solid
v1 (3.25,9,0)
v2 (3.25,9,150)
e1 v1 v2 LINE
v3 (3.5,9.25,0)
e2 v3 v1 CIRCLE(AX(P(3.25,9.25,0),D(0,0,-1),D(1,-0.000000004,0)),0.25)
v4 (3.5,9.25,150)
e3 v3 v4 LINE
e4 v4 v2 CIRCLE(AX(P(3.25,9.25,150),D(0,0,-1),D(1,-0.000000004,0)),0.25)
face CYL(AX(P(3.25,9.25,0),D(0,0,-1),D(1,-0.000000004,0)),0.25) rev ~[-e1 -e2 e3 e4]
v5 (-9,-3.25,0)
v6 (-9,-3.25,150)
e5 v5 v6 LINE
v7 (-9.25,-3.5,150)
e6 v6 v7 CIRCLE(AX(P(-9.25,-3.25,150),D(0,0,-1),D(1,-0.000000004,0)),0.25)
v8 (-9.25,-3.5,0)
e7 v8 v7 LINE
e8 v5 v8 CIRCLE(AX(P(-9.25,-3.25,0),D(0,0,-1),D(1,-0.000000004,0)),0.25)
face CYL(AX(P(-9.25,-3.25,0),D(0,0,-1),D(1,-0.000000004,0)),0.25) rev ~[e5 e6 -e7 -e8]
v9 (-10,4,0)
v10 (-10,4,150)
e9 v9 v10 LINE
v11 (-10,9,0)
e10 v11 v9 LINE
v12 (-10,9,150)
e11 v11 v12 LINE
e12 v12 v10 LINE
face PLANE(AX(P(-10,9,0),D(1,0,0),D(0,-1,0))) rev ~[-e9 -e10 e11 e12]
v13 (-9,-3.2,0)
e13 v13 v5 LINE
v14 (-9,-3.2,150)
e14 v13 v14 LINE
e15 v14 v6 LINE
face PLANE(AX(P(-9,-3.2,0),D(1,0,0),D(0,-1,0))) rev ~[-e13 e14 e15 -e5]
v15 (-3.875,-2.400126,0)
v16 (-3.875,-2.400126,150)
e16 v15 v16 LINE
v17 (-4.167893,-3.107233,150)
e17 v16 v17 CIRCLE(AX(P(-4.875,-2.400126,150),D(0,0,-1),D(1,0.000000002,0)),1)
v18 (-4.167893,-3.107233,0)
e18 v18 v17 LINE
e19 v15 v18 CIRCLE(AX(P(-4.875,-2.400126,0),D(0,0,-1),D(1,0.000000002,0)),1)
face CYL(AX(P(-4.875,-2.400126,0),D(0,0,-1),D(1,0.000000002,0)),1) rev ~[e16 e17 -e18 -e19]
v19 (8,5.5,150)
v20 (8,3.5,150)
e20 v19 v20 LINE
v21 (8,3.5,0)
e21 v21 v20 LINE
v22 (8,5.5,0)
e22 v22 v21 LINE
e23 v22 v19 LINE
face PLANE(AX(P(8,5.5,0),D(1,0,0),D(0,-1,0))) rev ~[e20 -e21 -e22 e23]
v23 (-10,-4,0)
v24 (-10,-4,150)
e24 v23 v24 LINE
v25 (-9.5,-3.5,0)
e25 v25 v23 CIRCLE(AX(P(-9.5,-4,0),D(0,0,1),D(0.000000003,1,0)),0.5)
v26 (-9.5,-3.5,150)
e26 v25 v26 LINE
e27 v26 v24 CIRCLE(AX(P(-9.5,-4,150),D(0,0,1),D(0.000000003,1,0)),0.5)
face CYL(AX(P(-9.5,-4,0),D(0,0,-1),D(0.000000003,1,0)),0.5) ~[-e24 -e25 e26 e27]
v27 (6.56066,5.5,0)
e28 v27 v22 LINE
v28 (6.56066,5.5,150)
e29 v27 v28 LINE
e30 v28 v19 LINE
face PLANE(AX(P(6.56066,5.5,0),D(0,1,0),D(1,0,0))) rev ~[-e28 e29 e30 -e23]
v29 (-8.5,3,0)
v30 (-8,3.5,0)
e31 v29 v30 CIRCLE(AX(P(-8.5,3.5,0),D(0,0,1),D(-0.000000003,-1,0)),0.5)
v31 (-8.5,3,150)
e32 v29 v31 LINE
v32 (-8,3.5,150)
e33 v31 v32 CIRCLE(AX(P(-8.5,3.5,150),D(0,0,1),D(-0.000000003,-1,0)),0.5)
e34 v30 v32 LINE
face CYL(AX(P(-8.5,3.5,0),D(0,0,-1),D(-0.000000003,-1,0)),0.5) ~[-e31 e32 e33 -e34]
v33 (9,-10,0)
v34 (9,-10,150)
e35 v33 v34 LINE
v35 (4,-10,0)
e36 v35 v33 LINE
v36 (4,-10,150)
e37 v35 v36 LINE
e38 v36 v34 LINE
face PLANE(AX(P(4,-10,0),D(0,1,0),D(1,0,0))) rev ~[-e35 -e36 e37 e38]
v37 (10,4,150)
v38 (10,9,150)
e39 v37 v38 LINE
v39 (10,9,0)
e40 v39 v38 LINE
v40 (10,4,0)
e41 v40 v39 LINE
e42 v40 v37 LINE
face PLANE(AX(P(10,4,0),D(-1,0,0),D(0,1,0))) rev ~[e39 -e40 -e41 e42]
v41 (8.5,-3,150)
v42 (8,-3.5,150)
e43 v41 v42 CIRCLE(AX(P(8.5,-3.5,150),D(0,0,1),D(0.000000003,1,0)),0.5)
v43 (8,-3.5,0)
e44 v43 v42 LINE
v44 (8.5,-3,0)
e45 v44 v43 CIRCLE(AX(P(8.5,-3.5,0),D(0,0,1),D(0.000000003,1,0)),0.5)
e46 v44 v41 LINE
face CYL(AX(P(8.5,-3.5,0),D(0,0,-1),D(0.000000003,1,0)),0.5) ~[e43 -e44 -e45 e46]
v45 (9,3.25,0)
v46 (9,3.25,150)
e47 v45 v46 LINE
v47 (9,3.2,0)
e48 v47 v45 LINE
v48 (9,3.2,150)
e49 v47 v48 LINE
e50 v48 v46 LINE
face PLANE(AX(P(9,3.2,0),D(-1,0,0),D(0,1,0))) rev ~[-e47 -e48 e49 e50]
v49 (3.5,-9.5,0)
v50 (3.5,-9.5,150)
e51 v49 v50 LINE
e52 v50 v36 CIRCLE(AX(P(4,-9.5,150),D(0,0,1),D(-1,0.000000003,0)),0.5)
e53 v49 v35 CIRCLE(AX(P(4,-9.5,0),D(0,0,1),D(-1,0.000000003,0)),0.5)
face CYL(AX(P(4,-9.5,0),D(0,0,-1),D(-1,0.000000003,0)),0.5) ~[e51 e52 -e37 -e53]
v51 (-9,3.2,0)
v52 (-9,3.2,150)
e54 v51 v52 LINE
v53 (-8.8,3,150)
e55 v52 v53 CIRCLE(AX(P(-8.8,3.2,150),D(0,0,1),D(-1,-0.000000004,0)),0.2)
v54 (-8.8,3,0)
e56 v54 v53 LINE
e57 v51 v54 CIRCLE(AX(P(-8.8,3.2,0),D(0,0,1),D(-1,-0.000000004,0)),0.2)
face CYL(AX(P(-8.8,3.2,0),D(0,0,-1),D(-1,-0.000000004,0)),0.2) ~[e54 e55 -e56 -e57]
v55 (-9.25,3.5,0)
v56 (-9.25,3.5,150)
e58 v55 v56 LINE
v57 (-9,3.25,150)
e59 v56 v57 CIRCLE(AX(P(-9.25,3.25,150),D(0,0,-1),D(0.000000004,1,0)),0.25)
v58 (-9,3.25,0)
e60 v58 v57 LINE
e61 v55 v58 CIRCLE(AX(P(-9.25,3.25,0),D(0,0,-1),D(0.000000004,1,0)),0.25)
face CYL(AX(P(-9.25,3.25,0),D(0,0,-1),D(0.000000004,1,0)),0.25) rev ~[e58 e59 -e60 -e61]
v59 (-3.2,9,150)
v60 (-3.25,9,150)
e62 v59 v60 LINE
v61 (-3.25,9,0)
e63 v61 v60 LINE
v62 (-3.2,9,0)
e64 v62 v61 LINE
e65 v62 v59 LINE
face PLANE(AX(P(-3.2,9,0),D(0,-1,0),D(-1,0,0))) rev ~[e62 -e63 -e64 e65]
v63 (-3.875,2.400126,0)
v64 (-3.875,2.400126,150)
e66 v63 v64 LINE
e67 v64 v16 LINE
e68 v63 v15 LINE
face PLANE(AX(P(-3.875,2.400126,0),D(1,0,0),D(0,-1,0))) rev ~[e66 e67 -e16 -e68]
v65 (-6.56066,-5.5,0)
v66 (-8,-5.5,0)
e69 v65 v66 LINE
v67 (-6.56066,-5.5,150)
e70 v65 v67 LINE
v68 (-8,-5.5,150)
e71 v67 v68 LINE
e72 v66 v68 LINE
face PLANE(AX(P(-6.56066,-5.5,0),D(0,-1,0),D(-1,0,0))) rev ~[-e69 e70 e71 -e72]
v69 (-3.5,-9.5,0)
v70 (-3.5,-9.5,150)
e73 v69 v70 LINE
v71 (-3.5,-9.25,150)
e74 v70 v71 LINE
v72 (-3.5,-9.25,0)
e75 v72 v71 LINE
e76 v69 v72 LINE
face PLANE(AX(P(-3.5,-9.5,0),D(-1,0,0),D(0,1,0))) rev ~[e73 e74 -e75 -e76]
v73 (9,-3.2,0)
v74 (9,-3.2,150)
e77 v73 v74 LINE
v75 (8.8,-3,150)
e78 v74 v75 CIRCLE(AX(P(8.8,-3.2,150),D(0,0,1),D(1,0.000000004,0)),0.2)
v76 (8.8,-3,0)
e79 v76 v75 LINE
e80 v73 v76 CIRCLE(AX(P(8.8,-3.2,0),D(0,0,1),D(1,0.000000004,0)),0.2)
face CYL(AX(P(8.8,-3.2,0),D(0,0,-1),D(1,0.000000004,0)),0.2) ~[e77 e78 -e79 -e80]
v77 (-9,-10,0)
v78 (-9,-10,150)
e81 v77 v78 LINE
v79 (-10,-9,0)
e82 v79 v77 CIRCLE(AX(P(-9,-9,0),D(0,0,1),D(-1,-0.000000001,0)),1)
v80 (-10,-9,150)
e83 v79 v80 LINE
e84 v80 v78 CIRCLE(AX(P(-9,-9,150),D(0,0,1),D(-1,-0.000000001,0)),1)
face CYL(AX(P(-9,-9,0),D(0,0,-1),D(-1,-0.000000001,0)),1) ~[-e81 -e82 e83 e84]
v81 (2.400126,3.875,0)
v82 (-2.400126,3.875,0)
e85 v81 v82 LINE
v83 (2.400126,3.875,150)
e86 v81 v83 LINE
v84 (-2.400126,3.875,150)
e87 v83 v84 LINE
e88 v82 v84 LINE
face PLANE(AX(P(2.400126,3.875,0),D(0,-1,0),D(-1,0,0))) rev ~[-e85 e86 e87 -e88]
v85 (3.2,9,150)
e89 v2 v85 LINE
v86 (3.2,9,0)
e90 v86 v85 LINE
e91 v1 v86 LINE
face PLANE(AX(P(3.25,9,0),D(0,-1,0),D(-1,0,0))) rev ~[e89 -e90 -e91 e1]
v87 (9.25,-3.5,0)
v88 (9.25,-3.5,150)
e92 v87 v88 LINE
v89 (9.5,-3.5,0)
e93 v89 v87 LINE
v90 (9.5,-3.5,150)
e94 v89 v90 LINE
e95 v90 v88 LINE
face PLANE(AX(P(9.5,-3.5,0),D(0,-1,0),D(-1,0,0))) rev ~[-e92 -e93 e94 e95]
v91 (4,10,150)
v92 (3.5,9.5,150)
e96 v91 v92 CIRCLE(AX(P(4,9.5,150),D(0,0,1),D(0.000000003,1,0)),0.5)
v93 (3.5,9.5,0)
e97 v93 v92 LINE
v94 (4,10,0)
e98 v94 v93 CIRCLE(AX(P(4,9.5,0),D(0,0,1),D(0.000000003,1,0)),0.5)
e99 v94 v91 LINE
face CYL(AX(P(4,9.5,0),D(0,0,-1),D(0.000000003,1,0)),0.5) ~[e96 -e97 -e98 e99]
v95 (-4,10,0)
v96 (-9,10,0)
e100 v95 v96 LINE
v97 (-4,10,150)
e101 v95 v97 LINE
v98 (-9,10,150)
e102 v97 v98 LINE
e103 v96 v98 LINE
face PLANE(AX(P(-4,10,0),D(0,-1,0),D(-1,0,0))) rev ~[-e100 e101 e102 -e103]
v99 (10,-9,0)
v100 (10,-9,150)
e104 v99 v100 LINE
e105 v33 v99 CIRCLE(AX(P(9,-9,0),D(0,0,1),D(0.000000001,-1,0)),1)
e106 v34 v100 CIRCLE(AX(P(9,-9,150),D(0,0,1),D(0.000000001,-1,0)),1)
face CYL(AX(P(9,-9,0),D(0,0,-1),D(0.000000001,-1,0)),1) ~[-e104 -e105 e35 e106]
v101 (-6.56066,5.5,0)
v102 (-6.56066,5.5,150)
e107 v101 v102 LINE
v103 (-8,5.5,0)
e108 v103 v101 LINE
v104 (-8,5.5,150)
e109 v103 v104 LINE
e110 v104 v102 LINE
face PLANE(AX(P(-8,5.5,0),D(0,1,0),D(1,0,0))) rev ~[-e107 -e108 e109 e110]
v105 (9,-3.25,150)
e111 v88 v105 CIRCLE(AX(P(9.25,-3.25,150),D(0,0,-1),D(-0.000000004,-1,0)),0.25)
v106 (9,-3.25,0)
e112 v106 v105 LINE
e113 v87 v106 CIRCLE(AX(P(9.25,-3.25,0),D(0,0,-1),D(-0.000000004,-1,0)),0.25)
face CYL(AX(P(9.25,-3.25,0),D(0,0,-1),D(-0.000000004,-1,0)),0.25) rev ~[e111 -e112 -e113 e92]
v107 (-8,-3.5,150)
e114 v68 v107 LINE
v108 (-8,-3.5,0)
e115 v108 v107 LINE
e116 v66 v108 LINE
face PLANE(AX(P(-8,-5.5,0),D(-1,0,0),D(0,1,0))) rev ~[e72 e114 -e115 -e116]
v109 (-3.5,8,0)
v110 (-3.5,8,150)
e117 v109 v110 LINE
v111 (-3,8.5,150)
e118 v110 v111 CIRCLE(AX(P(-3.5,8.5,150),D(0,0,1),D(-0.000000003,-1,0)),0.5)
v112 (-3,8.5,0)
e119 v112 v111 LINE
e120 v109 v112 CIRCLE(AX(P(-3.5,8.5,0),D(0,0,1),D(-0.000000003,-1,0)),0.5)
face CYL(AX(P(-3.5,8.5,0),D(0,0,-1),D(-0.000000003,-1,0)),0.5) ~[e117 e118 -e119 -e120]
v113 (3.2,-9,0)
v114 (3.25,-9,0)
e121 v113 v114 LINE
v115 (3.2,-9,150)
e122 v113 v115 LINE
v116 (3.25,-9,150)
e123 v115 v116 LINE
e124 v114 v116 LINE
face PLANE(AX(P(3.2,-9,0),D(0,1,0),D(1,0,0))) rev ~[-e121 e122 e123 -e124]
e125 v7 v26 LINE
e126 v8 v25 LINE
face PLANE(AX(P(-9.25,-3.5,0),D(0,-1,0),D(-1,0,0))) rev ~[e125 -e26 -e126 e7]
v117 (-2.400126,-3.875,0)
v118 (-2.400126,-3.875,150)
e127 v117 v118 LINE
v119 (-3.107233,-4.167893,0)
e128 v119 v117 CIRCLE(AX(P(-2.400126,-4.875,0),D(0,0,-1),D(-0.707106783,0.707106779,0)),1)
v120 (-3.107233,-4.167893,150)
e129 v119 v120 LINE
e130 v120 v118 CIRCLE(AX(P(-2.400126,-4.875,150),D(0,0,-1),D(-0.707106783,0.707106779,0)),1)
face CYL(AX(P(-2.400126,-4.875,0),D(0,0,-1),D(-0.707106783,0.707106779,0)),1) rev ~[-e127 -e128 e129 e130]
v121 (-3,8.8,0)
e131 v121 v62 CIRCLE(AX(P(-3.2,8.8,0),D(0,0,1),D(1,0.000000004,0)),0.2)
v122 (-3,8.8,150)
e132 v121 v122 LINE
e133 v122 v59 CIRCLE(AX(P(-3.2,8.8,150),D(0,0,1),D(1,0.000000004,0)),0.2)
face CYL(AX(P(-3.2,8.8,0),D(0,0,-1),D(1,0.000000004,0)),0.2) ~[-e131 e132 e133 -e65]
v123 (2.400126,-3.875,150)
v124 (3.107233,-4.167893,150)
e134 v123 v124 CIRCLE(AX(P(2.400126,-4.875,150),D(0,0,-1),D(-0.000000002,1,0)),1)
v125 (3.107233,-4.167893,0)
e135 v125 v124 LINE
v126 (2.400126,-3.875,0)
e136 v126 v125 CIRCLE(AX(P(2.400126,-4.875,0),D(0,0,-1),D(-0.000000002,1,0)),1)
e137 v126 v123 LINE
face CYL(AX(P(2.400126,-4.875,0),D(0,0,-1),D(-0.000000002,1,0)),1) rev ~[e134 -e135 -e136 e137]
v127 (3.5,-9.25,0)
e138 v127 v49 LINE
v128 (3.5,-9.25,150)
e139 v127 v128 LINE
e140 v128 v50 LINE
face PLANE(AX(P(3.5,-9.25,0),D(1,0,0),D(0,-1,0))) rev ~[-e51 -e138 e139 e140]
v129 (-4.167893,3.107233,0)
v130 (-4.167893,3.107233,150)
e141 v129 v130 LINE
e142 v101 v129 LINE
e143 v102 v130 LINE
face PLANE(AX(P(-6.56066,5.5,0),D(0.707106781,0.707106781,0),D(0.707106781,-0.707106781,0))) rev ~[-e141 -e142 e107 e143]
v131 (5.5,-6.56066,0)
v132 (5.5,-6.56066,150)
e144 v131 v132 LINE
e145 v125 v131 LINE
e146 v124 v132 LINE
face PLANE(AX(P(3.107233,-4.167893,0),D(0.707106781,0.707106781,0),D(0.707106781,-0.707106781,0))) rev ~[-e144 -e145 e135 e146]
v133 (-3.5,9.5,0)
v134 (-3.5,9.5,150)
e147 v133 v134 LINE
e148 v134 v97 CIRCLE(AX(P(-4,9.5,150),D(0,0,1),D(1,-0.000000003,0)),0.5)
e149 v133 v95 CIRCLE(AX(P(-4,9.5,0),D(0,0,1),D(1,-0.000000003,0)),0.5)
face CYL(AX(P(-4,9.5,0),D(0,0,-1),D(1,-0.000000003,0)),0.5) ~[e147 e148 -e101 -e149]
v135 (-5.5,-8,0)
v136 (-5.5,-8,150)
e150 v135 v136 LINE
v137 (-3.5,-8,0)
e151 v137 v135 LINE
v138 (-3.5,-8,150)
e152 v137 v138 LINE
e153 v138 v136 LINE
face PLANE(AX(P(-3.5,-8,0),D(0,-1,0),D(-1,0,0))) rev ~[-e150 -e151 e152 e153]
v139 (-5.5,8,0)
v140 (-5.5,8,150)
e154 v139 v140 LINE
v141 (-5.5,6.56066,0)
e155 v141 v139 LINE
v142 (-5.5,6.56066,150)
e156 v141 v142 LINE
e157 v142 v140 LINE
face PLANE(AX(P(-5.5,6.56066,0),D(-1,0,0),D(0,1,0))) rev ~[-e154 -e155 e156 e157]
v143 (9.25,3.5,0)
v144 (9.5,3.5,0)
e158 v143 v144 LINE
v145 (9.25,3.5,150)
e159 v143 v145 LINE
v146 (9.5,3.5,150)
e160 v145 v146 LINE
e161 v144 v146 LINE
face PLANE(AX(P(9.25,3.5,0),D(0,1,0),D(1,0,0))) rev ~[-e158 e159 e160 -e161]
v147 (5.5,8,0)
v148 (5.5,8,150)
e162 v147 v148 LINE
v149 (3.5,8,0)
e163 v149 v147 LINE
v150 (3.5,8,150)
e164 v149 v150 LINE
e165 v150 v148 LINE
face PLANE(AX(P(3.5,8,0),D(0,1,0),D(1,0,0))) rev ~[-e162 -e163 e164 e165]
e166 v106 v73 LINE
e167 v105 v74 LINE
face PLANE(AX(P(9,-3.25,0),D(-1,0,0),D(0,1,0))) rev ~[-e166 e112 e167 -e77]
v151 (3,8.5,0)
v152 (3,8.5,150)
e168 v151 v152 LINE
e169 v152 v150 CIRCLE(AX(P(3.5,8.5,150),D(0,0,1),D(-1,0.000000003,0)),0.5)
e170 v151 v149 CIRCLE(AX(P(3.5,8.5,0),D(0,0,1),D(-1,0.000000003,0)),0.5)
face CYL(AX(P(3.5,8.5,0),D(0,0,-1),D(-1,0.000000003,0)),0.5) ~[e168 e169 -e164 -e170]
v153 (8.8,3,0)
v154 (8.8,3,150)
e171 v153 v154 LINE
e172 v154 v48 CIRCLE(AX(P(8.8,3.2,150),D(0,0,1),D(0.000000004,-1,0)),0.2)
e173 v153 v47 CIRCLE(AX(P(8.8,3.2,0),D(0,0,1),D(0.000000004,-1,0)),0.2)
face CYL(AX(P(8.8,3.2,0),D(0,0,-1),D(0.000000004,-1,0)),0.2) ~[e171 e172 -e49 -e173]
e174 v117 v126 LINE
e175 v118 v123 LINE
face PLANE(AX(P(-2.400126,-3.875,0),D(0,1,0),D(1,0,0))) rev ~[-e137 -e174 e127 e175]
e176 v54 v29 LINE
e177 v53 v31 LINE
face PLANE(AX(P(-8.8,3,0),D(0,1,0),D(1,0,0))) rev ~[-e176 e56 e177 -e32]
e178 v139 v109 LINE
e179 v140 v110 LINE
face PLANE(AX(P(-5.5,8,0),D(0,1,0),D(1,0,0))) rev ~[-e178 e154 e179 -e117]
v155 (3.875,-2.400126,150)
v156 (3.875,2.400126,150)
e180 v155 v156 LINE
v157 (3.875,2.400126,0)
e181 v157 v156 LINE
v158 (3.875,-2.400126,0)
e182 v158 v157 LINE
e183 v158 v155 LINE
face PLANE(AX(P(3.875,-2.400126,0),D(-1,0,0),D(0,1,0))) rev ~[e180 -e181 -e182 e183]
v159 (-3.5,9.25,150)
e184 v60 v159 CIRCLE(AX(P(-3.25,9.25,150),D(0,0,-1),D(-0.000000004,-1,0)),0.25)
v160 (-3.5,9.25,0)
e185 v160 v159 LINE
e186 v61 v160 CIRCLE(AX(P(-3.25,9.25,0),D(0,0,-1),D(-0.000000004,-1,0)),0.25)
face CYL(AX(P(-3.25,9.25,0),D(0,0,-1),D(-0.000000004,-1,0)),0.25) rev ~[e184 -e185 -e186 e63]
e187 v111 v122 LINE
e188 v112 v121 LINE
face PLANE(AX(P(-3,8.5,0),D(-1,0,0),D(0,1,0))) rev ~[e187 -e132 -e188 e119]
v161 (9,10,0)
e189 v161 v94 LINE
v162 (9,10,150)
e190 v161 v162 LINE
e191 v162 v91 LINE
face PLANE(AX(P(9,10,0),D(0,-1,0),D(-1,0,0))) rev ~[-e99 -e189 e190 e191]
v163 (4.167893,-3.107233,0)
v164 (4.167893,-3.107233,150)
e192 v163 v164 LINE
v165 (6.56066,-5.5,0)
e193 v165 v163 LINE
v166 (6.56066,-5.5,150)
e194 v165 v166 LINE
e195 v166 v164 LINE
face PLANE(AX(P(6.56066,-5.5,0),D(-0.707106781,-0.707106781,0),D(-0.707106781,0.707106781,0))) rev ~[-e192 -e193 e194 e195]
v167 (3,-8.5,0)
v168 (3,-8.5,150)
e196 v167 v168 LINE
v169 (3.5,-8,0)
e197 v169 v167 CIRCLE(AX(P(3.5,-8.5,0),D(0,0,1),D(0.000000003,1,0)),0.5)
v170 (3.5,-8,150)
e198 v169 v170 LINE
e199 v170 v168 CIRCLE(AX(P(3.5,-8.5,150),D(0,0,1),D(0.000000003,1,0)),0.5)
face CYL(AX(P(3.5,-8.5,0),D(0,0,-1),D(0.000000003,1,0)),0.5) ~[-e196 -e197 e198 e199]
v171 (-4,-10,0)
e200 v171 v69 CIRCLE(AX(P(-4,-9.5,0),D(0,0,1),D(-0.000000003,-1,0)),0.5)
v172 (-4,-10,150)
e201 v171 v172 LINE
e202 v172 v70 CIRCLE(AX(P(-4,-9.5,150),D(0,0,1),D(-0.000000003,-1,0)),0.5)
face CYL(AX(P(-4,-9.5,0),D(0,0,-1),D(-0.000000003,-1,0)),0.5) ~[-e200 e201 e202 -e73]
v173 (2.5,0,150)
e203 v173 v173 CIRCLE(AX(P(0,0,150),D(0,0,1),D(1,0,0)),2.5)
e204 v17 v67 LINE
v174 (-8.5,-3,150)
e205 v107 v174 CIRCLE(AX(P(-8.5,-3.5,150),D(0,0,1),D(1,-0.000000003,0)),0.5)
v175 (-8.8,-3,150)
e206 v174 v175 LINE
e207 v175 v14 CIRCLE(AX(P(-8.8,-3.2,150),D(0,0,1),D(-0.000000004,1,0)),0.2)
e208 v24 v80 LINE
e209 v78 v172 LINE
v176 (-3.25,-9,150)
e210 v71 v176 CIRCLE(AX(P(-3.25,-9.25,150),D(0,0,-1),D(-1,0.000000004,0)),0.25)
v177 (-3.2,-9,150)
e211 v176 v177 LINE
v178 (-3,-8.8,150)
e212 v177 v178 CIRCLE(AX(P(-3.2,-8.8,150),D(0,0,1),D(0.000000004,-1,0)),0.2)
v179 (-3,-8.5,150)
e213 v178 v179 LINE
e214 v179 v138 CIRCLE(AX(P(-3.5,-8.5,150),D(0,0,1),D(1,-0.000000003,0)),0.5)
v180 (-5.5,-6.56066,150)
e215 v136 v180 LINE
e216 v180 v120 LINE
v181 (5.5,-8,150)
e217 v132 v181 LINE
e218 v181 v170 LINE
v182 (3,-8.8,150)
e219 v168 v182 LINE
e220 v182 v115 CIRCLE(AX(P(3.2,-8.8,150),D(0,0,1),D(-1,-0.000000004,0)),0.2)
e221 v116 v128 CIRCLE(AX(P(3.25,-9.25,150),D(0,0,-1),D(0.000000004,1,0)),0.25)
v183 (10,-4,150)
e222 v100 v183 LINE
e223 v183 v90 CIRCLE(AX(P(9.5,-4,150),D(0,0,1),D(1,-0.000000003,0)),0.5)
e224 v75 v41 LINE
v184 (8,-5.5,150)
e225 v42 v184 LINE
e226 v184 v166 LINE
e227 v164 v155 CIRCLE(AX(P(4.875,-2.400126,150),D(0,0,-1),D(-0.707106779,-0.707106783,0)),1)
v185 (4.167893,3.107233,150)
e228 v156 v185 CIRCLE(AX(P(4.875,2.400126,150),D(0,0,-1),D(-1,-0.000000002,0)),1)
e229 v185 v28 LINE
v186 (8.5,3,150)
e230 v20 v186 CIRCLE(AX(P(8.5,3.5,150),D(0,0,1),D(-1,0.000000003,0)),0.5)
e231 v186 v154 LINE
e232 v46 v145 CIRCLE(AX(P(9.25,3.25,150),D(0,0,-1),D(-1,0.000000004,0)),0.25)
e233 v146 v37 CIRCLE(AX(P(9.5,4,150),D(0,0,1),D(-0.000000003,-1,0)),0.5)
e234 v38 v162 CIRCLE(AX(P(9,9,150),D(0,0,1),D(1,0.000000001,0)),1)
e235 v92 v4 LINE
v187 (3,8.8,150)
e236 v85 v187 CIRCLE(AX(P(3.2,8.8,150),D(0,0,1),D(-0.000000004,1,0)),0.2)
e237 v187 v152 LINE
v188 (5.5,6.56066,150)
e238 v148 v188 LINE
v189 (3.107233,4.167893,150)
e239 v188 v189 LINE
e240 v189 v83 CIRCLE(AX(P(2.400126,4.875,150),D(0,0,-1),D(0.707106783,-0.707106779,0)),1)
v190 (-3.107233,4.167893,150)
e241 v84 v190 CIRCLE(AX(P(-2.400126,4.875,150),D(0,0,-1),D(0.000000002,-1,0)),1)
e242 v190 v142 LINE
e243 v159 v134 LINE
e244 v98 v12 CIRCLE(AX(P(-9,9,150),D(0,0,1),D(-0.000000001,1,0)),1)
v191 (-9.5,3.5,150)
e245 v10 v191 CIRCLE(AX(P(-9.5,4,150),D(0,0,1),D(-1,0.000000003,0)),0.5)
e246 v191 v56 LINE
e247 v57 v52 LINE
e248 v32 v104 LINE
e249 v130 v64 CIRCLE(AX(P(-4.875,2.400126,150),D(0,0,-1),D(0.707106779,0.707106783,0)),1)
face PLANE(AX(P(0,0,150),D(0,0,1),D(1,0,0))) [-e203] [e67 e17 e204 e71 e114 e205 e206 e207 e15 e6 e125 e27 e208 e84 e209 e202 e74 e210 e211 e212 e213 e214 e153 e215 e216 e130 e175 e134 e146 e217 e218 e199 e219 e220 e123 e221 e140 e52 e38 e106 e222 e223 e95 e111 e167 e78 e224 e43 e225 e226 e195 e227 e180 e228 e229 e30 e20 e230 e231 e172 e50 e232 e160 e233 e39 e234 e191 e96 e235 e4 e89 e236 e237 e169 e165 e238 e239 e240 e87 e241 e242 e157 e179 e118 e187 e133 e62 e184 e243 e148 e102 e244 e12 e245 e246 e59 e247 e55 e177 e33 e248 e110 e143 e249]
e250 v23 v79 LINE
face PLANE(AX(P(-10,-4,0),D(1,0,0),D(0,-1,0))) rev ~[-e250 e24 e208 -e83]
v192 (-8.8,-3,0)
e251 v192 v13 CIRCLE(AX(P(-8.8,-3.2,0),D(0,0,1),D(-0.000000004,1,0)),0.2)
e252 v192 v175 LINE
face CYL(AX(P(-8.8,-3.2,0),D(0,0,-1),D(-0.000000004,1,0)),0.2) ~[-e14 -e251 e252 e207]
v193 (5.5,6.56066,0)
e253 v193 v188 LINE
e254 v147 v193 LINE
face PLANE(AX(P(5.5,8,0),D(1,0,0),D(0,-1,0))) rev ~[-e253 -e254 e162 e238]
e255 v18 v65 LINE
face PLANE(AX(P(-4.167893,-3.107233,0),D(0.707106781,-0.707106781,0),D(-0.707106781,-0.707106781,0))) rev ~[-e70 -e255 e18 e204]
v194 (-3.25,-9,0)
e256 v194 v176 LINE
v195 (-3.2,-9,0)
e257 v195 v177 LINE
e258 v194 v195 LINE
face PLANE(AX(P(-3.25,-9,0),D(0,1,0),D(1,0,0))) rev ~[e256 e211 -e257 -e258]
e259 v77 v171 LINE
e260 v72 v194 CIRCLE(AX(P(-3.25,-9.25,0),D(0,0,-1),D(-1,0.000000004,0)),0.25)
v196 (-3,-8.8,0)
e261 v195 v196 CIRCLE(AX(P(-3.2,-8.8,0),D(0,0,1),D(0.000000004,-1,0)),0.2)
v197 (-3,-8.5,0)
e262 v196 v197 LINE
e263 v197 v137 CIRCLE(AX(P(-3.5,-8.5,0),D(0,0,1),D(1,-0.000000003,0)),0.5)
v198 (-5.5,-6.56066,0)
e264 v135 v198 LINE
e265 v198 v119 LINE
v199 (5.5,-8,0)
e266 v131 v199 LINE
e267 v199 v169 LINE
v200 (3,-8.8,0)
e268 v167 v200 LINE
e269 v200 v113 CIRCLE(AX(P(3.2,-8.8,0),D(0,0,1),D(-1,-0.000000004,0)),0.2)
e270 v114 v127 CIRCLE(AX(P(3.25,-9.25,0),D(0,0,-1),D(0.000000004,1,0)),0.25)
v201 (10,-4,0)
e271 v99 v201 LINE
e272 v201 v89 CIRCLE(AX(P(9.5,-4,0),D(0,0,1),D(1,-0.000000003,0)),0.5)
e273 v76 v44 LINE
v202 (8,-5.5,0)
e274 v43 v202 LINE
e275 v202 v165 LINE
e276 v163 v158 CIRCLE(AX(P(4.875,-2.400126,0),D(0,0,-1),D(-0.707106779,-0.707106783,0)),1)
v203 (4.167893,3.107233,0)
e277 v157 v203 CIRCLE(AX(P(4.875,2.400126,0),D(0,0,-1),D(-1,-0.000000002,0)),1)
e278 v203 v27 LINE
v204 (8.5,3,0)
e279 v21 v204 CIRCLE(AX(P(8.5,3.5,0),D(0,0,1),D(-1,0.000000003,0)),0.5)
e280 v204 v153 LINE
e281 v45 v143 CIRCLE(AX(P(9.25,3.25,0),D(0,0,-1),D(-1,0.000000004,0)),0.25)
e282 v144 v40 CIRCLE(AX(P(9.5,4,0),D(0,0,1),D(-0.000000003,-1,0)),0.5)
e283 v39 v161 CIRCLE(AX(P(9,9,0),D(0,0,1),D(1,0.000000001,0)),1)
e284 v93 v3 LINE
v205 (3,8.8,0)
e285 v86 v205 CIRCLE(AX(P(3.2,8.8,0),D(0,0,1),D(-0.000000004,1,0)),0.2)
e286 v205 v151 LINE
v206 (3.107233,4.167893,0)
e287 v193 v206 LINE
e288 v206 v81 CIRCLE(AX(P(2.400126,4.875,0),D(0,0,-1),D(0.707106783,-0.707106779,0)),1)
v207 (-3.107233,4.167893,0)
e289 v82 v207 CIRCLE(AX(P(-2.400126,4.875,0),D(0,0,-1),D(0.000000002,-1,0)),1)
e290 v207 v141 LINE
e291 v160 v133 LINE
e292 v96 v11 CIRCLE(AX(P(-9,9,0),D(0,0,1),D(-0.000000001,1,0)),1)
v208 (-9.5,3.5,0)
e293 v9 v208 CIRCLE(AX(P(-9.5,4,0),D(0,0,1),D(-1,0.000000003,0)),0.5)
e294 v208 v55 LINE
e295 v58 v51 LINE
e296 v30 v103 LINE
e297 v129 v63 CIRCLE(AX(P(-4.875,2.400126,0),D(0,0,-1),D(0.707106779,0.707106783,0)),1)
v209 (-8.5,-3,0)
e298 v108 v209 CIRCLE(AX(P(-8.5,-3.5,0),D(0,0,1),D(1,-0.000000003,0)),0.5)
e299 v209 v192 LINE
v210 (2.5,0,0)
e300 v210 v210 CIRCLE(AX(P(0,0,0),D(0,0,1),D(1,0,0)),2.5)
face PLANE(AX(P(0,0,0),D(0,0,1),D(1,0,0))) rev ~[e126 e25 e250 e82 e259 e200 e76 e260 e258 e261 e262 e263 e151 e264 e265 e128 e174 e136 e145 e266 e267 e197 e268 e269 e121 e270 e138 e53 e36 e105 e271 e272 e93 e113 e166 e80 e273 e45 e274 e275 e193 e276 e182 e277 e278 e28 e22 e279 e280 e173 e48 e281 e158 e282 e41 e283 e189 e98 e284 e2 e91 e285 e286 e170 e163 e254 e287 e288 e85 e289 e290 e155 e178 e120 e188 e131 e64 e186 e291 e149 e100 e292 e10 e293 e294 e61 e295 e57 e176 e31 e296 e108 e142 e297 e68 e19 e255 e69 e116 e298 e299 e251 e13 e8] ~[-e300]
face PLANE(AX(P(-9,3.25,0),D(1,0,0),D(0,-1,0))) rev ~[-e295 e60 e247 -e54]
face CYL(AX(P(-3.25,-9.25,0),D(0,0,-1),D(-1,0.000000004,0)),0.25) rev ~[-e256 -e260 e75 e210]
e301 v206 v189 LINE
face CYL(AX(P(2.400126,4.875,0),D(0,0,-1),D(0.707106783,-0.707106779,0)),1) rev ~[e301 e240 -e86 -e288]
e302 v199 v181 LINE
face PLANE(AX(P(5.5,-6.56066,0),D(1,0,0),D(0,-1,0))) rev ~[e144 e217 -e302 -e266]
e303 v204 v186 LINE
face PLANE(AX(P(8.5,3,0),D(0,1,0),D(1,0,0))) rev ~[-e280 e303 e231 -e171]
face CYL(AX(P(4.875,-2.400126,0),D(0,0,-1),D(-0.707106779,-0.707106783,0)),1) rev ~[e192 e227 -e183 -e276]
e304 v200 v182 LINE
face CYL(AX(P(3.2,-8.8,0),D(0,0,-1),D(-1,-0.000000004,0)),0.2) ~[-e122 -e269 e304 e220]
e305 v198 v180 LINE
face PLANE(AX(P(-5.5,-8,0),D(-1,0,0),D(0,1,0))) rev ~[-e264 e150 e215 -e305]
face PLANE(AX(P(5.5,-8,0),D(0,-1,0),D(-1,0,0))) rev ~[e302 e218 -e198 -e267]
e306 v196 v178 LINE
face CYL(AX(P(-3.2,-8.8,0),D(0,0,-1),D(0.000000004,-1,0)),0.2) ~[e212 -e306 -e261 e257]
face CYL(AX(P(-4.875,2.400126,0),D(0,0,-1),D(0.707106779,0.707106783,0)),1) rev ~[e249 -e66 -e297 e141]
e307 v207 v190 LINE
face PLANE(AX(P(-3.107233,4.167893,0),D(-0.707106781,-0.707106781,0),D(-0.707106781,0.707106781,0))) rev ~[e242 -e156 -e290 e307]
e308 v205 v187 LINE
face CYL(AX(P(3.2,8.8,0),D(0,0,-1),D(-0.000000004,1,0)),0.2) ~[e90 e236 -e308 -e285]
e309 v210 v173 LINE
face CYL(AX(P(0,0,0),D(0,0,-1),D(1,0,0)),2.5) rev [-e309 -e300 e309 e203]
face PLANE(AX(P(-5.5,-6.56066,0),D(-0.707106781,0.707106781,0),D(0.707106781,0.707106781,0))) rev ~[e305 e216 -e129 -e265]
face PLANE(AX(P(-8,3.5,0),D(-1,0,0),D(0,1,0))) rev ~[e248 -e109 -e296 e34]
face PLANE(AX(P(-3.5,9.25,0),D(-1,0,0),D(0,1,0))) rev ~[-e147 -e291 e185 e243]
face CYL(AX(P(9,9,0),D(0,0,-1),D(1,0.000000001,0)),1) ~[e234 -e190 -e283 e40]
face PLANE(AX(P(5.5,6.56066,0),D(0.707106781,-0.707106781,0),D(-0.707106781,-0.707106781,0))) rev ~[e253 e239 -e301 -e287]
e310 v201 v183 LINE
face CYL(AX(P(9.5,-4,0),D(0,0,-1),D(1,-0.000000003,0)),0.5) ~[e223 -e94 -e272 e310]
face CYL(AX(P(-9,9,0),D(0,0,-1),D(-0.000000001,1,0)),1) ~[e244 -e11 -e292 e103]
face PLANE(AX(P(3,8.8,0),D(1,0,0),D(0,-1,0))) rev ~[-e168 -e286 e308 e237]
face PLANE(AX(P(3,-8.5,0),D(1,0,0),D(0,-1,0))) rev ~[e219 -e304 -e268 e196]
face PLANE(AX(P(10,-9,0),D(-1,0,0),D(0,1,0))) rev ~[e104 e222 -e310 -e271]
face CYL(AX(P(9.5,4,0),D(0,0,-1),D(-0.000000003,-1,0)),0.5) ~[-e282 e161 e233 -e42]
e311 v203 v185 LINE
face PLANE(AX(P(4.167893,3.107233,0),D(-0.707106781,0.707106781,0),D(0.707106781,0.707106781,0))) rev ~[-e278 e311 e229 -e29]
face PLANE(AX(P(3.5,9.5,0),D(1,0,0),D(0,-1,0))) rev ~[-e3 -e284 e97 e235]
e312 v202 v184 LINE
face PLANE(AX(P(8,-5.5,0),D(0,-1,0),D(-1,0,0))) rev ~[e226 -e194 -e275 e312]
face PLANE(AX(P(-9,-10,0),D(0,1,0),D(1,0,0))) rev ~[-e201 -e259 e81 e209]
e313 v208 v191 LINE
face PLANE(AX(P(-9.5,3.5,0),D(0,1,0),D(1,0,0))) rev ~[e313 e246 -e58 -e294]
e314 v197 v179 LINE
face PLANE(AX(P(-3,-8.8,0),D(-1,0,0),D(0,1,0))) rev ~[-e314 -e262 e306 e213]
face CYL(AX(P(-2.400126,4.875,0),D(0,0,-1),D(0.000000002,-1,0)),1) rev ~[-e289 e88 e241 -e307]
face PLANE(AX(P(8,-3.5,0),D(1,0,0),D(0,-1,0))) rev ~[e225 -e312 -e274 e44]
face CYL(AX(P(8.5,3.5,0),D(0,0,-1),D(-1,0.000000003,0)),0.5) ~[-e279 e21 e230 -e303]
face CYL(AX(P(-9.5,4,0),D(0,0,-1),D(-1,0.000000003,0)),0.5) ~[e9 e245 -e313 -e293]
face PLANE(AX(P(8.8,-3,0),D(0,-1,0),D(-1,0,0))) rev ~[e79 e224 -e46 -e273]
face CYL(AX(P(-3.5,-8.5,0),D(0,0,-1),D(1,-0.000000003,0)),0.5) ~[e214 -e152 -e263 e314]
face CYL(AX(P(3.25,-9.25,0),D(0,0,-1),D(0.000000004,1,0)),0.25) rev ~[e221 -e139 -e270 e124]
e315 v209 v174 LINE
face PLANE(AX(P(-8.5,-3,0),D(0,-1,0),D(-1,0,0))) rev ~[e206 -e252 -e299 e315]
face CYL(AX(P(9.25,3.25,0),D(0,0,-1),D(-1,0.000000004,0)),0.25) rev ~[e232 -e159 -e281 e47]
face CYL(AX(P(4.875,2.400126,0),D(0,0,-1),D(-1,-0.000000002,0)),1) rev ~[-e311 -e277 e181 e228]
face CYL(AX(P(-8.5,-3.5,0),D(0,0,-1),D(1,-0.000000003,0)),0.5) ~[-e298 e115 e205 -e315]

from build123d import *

# Parameters (mm, degrees)
SKETCH2_R           = 2.5
BOSS_EXTRUDE1_DEPTH = 150


with BuildPart() as part:
    # Sketch2 → Boss-Extrude1 (new body)
    with BuildSketch(Plane.XY):
        with BuildLine():
            ThreePointArc((4, 10), (3.646446609, 9.853553391), (3.5, 9.5))
            Line((3.5, 9.5), (3.5, 9.25))
            ThreePointArc((3.5, 9.25), (3.426776695, 9.073223305), (3.25, 9))
            Line((3.25, 9), (3.2, 9))
            ThreePointArc((3.2, 9), (3.058578644, 8.941421356), (3, 8.8))
            Line((3, 8.8), (3, 8.5))
            ThreePointArc((3, 8.5), (3.146446609, 8.146446609), (3.5, 8))
            Line((3.5, 8), (5.5, 8))
            Line((5.5, 8), (5.5, 6.560660172))
            Line((5.5, 6.560660172), (3.107233047, 4.167893219))
            ThreePointArc((3.107233047, 4.167893219), (2.782809698, 3.951120467), (2.400126266, 3.875))
            Line((2.400126266, 3.875), (0, 3.875))
            Line((0, 3.875), (-2.400126266, 3.875))
            ThreePointArc((-2.400126266, 3.875), (-2.782809698, 3.951120467), (-3.107233047, 4.167893219))
            Line((-3.107233047, 4.167893219), (-5.5, 6.560660172))
            Line((-5.5, 6.560660172), (-5.5, 8))
            Line((-5.5, 8), (-3.5, 8))
            ThreePointArc((-3.5, 8), (-3.146446609, 8.146446609), (-3, 8.5))
            Line((-3, 8.5), (-3, 8.8))
            ThreePointArc((-3, 8.8), (-3.058578644, 8.941421356), (-3.2, 9))
            Line((-3.2, 9), (-3.25, 9))
            ThreePointArc((-3.25, 9), (-3.426776695, 9.073223305), (-3.5, 9.25))
            Line((-3.5, 9.25), (-3.5, 9.5))
            ThreePointArc((-3.5, 9.5), (-3.646446609, 9.853553391), (-4, 10))
            Line((-4, 10), (-9, 10))
            ThreePointArc((-9, 10), (-9.707106781, 9.707106781), (-10, 9))
            Line((-10, 9), (-10, 4))
            ThreePointArc((-10, 4), (-9.853553391, 3.646446609), (-9.5, 3.5))
            Line((-9.5, 3.5), (-9.25, 3.5))
            ThreePointArc((-9.25, 3.5), (-9.073223305, 3.426776695), (-9, 3.25))
            Line((-9, 3.25), (-9, 3.2))
            ThreePointArc((-9, 3.2), (-8.941421356, 3.058578644), (-8.8, 3))
            Line((-8.8, 3), (-8.5, 3))
            ThreePointArc((-8.5, 3), (-8.146446609, 3.146446609), (-8, 3.5))
            Line((-8, 3.5), (-8, 5.5))
            Line((-8, 5.5), (-6.560660172, 5.5))
            Line((-6.560660172, 5.5), (-4.167893219, 3.107233047))
            ThreePointArc((-4.167893219, 3.107233047), (-3.951120467, 2.782809698), (-3.875, 2.400126266))
            Line((-3.875, 2.400126266), (-3.875, 0))
            Line((-3.875, 0), (-3.875, -2.400126266))
            ThreePointArc((-3.875, -2.400126266), (-3.951120467, -2.782809698), (-4.167893219, -3.107233047))
            Line((-4.167893219, -3.107233047), (-6.560660172, -5.5))
            Line((-6.560660172, -5.5), (-8, -5.5))
            Line((-8, -5.5), (-8, -3.5))
            ThreePointArc((-8, -3.5), (-8.146446609, -3.146446609), (-8.5, -3))
            Line((-8.5, -3), (-8.8, -3))
            ThreePointArc((-8.8, -3), (-8.941421356, -3.058578644), (-9, -3.2))
            Line((-9, -3.2), (-9, -3.25))
            ThreePointArc((-9, -3.25), (-9.073223305, -3.426776695), (-9.25, -3.5))
            Line((-9.25, -3.5), (-9.5, -3.5))
            ThreePointArc((-9.5, -3.5), (-9.853553391, -3.646446609), (-10, -4))
            Line((-10, -4), (-10, -9))
            ThreePointArc((-10, -9), (-9.707106781, -9.707106781), (-9, -10))
            Line((-9, -10), (-4, -10))
            ThreePointArc((-4, -10), (-3.646446609, -9.853553391), (-3.5, -9.5))
            Line((-3.5, -9.5), (-3.5, -9.25))
            ThreePointArc((-3.5, -9.25), (-3.426776695, -9.073223305), (-3.25, -9))
            Line((-3.25, -9), (-3.2, -9))
            ThreePointArc((-3.2, -9), (-3.058578644, -8.941421356), (-3, -8.8))
            Line((-3, -8.8), (-3, -8.5))
            ThreePointArc((-3, -8.5), (-3.146446609, -8.146446609), (-3.5, -8))
            Line((-3.5, -8), (-5.5, -8))
            Line((-5.5, -8), (-5.5, -6.560660172))
            Line((-5.5, -6.560660172), (-3.107233047, -4.167893219))
            ThreePointArc((-3.107233047, -4.167893219), (-2.782809698, -3.951120467), (-2.400126266, -3.875))
            Line((-2.400126266, -3.875), (0, -3.875))
            Line((0, -3.875), (2.400126266, -3.875))
            ThreePointArc((2.400126266, -3.875), (2.782809698, -3.951120467), (3.107233047, -4.167893219))
            Line((3.107233047, -4.167893219), (5.5, -6.560660172))
            Line((5.5, -6.560660172), (5.5, -8))
            Line((5.5, -8), (3.5, -8))
            ThreePointArc((3.5, -8), (3.146446609, -8.146446609), (3, -8.5))
            Line((3, -8.5), (3, -8.8))
            ThreePointArc((3, -8.8), (3.058578644, -8.941421356), (3.2, -9))
            Line((3.2, -9), (3.25, -9))
            ThreePointArc((3.25, -9), (3.426776695, -9.073223305), (3.5, -9.25))
            Line((3.5, -9.25), (3.5, -9.5))
            ThreePointArc((3.5, -9.5), (3.646446609, -9.853553391), (4, -10))
            Line((4, -10), (9, -10))
            ThreePointArc((9, -10), (9.707106781, -9.707106781), (10, -9))
            Line((10, -9), (10, -4))
            ThreePointArc((10, -4), (9.853553391, -3.646446609), (9.5, -3.5))
            Line((9.5, -3.5), (9.25, -3.5))
            ThreePointArc((9.25, -3.5), (9.073223305, -3.426776695), (9, -3.25))
            Line((9, -3.25), (9, -3.2))
            ThreePointArc((9, -3.2), (8.941421356, -3.058578644), (8.8, -3))
            Line((8.8, -3), (8.5, -3))
            ThreePointArc((8.5, -3), (8.146446609, -3.146446609), (8, -3.5))
            Line((8, -3.5), (8, -5.5))
            Line((8, -5.5), (6.560660172, -5.5))
            Line((6.560660172, -5.5), (4.167893219, -3.107233047))
            ThreePointArc((4.167893219, -3.107233047), (3.951120467, -2.782809698), (3.875, -2.400126266))
            Line((3.875, -2.400126266), (3.875, 0))
            Line((3.875, 0), (3.875, 2.400126266))
            ThreePointArc((3.875, 2.400126266), (3.951120467, 2.782809698), (4.167893219, 3.107233047))
            Line((4.167893219, 3.107233047), (6.560660172, 5.5))
            Line((6.560660172, 5.5), (8, 5.5))
            Line((8, 5.5), (8, 3.5))
            ThreePointArc((8, 3.5), (8.146446609, 3.146446609), (8.5, 3))
            Line((8.5, 3), (8.8, 3))
            ThreePointArc((8.8, 3), (8.941421356, 3.058578644), (9, 3.2))
            Line((9, 3.2), (9, 3.25))
            ThreePointArc((9, 3.25), (9.073223305, 3.426776695), (9.25, 3.5))
            Line((9.25, 3.5), (9.5, 3.5))
            ThreePointArc((9.5, 3.5), (9.853553391, 3.646446609), (10, 4))
            Line((10, 4), (10, 9))
            ThreePointArc((10, 9), (9.707106781, 9.707106781), (9, 10))
            Line((9, 10), (4, 10))
        make_face()
        Circle(SKETCH2_R, mode=Mode.SUBTRACT)
    extrude(amount=BOSS_EXTRUDE1_DEPTH)


solid = part.part
